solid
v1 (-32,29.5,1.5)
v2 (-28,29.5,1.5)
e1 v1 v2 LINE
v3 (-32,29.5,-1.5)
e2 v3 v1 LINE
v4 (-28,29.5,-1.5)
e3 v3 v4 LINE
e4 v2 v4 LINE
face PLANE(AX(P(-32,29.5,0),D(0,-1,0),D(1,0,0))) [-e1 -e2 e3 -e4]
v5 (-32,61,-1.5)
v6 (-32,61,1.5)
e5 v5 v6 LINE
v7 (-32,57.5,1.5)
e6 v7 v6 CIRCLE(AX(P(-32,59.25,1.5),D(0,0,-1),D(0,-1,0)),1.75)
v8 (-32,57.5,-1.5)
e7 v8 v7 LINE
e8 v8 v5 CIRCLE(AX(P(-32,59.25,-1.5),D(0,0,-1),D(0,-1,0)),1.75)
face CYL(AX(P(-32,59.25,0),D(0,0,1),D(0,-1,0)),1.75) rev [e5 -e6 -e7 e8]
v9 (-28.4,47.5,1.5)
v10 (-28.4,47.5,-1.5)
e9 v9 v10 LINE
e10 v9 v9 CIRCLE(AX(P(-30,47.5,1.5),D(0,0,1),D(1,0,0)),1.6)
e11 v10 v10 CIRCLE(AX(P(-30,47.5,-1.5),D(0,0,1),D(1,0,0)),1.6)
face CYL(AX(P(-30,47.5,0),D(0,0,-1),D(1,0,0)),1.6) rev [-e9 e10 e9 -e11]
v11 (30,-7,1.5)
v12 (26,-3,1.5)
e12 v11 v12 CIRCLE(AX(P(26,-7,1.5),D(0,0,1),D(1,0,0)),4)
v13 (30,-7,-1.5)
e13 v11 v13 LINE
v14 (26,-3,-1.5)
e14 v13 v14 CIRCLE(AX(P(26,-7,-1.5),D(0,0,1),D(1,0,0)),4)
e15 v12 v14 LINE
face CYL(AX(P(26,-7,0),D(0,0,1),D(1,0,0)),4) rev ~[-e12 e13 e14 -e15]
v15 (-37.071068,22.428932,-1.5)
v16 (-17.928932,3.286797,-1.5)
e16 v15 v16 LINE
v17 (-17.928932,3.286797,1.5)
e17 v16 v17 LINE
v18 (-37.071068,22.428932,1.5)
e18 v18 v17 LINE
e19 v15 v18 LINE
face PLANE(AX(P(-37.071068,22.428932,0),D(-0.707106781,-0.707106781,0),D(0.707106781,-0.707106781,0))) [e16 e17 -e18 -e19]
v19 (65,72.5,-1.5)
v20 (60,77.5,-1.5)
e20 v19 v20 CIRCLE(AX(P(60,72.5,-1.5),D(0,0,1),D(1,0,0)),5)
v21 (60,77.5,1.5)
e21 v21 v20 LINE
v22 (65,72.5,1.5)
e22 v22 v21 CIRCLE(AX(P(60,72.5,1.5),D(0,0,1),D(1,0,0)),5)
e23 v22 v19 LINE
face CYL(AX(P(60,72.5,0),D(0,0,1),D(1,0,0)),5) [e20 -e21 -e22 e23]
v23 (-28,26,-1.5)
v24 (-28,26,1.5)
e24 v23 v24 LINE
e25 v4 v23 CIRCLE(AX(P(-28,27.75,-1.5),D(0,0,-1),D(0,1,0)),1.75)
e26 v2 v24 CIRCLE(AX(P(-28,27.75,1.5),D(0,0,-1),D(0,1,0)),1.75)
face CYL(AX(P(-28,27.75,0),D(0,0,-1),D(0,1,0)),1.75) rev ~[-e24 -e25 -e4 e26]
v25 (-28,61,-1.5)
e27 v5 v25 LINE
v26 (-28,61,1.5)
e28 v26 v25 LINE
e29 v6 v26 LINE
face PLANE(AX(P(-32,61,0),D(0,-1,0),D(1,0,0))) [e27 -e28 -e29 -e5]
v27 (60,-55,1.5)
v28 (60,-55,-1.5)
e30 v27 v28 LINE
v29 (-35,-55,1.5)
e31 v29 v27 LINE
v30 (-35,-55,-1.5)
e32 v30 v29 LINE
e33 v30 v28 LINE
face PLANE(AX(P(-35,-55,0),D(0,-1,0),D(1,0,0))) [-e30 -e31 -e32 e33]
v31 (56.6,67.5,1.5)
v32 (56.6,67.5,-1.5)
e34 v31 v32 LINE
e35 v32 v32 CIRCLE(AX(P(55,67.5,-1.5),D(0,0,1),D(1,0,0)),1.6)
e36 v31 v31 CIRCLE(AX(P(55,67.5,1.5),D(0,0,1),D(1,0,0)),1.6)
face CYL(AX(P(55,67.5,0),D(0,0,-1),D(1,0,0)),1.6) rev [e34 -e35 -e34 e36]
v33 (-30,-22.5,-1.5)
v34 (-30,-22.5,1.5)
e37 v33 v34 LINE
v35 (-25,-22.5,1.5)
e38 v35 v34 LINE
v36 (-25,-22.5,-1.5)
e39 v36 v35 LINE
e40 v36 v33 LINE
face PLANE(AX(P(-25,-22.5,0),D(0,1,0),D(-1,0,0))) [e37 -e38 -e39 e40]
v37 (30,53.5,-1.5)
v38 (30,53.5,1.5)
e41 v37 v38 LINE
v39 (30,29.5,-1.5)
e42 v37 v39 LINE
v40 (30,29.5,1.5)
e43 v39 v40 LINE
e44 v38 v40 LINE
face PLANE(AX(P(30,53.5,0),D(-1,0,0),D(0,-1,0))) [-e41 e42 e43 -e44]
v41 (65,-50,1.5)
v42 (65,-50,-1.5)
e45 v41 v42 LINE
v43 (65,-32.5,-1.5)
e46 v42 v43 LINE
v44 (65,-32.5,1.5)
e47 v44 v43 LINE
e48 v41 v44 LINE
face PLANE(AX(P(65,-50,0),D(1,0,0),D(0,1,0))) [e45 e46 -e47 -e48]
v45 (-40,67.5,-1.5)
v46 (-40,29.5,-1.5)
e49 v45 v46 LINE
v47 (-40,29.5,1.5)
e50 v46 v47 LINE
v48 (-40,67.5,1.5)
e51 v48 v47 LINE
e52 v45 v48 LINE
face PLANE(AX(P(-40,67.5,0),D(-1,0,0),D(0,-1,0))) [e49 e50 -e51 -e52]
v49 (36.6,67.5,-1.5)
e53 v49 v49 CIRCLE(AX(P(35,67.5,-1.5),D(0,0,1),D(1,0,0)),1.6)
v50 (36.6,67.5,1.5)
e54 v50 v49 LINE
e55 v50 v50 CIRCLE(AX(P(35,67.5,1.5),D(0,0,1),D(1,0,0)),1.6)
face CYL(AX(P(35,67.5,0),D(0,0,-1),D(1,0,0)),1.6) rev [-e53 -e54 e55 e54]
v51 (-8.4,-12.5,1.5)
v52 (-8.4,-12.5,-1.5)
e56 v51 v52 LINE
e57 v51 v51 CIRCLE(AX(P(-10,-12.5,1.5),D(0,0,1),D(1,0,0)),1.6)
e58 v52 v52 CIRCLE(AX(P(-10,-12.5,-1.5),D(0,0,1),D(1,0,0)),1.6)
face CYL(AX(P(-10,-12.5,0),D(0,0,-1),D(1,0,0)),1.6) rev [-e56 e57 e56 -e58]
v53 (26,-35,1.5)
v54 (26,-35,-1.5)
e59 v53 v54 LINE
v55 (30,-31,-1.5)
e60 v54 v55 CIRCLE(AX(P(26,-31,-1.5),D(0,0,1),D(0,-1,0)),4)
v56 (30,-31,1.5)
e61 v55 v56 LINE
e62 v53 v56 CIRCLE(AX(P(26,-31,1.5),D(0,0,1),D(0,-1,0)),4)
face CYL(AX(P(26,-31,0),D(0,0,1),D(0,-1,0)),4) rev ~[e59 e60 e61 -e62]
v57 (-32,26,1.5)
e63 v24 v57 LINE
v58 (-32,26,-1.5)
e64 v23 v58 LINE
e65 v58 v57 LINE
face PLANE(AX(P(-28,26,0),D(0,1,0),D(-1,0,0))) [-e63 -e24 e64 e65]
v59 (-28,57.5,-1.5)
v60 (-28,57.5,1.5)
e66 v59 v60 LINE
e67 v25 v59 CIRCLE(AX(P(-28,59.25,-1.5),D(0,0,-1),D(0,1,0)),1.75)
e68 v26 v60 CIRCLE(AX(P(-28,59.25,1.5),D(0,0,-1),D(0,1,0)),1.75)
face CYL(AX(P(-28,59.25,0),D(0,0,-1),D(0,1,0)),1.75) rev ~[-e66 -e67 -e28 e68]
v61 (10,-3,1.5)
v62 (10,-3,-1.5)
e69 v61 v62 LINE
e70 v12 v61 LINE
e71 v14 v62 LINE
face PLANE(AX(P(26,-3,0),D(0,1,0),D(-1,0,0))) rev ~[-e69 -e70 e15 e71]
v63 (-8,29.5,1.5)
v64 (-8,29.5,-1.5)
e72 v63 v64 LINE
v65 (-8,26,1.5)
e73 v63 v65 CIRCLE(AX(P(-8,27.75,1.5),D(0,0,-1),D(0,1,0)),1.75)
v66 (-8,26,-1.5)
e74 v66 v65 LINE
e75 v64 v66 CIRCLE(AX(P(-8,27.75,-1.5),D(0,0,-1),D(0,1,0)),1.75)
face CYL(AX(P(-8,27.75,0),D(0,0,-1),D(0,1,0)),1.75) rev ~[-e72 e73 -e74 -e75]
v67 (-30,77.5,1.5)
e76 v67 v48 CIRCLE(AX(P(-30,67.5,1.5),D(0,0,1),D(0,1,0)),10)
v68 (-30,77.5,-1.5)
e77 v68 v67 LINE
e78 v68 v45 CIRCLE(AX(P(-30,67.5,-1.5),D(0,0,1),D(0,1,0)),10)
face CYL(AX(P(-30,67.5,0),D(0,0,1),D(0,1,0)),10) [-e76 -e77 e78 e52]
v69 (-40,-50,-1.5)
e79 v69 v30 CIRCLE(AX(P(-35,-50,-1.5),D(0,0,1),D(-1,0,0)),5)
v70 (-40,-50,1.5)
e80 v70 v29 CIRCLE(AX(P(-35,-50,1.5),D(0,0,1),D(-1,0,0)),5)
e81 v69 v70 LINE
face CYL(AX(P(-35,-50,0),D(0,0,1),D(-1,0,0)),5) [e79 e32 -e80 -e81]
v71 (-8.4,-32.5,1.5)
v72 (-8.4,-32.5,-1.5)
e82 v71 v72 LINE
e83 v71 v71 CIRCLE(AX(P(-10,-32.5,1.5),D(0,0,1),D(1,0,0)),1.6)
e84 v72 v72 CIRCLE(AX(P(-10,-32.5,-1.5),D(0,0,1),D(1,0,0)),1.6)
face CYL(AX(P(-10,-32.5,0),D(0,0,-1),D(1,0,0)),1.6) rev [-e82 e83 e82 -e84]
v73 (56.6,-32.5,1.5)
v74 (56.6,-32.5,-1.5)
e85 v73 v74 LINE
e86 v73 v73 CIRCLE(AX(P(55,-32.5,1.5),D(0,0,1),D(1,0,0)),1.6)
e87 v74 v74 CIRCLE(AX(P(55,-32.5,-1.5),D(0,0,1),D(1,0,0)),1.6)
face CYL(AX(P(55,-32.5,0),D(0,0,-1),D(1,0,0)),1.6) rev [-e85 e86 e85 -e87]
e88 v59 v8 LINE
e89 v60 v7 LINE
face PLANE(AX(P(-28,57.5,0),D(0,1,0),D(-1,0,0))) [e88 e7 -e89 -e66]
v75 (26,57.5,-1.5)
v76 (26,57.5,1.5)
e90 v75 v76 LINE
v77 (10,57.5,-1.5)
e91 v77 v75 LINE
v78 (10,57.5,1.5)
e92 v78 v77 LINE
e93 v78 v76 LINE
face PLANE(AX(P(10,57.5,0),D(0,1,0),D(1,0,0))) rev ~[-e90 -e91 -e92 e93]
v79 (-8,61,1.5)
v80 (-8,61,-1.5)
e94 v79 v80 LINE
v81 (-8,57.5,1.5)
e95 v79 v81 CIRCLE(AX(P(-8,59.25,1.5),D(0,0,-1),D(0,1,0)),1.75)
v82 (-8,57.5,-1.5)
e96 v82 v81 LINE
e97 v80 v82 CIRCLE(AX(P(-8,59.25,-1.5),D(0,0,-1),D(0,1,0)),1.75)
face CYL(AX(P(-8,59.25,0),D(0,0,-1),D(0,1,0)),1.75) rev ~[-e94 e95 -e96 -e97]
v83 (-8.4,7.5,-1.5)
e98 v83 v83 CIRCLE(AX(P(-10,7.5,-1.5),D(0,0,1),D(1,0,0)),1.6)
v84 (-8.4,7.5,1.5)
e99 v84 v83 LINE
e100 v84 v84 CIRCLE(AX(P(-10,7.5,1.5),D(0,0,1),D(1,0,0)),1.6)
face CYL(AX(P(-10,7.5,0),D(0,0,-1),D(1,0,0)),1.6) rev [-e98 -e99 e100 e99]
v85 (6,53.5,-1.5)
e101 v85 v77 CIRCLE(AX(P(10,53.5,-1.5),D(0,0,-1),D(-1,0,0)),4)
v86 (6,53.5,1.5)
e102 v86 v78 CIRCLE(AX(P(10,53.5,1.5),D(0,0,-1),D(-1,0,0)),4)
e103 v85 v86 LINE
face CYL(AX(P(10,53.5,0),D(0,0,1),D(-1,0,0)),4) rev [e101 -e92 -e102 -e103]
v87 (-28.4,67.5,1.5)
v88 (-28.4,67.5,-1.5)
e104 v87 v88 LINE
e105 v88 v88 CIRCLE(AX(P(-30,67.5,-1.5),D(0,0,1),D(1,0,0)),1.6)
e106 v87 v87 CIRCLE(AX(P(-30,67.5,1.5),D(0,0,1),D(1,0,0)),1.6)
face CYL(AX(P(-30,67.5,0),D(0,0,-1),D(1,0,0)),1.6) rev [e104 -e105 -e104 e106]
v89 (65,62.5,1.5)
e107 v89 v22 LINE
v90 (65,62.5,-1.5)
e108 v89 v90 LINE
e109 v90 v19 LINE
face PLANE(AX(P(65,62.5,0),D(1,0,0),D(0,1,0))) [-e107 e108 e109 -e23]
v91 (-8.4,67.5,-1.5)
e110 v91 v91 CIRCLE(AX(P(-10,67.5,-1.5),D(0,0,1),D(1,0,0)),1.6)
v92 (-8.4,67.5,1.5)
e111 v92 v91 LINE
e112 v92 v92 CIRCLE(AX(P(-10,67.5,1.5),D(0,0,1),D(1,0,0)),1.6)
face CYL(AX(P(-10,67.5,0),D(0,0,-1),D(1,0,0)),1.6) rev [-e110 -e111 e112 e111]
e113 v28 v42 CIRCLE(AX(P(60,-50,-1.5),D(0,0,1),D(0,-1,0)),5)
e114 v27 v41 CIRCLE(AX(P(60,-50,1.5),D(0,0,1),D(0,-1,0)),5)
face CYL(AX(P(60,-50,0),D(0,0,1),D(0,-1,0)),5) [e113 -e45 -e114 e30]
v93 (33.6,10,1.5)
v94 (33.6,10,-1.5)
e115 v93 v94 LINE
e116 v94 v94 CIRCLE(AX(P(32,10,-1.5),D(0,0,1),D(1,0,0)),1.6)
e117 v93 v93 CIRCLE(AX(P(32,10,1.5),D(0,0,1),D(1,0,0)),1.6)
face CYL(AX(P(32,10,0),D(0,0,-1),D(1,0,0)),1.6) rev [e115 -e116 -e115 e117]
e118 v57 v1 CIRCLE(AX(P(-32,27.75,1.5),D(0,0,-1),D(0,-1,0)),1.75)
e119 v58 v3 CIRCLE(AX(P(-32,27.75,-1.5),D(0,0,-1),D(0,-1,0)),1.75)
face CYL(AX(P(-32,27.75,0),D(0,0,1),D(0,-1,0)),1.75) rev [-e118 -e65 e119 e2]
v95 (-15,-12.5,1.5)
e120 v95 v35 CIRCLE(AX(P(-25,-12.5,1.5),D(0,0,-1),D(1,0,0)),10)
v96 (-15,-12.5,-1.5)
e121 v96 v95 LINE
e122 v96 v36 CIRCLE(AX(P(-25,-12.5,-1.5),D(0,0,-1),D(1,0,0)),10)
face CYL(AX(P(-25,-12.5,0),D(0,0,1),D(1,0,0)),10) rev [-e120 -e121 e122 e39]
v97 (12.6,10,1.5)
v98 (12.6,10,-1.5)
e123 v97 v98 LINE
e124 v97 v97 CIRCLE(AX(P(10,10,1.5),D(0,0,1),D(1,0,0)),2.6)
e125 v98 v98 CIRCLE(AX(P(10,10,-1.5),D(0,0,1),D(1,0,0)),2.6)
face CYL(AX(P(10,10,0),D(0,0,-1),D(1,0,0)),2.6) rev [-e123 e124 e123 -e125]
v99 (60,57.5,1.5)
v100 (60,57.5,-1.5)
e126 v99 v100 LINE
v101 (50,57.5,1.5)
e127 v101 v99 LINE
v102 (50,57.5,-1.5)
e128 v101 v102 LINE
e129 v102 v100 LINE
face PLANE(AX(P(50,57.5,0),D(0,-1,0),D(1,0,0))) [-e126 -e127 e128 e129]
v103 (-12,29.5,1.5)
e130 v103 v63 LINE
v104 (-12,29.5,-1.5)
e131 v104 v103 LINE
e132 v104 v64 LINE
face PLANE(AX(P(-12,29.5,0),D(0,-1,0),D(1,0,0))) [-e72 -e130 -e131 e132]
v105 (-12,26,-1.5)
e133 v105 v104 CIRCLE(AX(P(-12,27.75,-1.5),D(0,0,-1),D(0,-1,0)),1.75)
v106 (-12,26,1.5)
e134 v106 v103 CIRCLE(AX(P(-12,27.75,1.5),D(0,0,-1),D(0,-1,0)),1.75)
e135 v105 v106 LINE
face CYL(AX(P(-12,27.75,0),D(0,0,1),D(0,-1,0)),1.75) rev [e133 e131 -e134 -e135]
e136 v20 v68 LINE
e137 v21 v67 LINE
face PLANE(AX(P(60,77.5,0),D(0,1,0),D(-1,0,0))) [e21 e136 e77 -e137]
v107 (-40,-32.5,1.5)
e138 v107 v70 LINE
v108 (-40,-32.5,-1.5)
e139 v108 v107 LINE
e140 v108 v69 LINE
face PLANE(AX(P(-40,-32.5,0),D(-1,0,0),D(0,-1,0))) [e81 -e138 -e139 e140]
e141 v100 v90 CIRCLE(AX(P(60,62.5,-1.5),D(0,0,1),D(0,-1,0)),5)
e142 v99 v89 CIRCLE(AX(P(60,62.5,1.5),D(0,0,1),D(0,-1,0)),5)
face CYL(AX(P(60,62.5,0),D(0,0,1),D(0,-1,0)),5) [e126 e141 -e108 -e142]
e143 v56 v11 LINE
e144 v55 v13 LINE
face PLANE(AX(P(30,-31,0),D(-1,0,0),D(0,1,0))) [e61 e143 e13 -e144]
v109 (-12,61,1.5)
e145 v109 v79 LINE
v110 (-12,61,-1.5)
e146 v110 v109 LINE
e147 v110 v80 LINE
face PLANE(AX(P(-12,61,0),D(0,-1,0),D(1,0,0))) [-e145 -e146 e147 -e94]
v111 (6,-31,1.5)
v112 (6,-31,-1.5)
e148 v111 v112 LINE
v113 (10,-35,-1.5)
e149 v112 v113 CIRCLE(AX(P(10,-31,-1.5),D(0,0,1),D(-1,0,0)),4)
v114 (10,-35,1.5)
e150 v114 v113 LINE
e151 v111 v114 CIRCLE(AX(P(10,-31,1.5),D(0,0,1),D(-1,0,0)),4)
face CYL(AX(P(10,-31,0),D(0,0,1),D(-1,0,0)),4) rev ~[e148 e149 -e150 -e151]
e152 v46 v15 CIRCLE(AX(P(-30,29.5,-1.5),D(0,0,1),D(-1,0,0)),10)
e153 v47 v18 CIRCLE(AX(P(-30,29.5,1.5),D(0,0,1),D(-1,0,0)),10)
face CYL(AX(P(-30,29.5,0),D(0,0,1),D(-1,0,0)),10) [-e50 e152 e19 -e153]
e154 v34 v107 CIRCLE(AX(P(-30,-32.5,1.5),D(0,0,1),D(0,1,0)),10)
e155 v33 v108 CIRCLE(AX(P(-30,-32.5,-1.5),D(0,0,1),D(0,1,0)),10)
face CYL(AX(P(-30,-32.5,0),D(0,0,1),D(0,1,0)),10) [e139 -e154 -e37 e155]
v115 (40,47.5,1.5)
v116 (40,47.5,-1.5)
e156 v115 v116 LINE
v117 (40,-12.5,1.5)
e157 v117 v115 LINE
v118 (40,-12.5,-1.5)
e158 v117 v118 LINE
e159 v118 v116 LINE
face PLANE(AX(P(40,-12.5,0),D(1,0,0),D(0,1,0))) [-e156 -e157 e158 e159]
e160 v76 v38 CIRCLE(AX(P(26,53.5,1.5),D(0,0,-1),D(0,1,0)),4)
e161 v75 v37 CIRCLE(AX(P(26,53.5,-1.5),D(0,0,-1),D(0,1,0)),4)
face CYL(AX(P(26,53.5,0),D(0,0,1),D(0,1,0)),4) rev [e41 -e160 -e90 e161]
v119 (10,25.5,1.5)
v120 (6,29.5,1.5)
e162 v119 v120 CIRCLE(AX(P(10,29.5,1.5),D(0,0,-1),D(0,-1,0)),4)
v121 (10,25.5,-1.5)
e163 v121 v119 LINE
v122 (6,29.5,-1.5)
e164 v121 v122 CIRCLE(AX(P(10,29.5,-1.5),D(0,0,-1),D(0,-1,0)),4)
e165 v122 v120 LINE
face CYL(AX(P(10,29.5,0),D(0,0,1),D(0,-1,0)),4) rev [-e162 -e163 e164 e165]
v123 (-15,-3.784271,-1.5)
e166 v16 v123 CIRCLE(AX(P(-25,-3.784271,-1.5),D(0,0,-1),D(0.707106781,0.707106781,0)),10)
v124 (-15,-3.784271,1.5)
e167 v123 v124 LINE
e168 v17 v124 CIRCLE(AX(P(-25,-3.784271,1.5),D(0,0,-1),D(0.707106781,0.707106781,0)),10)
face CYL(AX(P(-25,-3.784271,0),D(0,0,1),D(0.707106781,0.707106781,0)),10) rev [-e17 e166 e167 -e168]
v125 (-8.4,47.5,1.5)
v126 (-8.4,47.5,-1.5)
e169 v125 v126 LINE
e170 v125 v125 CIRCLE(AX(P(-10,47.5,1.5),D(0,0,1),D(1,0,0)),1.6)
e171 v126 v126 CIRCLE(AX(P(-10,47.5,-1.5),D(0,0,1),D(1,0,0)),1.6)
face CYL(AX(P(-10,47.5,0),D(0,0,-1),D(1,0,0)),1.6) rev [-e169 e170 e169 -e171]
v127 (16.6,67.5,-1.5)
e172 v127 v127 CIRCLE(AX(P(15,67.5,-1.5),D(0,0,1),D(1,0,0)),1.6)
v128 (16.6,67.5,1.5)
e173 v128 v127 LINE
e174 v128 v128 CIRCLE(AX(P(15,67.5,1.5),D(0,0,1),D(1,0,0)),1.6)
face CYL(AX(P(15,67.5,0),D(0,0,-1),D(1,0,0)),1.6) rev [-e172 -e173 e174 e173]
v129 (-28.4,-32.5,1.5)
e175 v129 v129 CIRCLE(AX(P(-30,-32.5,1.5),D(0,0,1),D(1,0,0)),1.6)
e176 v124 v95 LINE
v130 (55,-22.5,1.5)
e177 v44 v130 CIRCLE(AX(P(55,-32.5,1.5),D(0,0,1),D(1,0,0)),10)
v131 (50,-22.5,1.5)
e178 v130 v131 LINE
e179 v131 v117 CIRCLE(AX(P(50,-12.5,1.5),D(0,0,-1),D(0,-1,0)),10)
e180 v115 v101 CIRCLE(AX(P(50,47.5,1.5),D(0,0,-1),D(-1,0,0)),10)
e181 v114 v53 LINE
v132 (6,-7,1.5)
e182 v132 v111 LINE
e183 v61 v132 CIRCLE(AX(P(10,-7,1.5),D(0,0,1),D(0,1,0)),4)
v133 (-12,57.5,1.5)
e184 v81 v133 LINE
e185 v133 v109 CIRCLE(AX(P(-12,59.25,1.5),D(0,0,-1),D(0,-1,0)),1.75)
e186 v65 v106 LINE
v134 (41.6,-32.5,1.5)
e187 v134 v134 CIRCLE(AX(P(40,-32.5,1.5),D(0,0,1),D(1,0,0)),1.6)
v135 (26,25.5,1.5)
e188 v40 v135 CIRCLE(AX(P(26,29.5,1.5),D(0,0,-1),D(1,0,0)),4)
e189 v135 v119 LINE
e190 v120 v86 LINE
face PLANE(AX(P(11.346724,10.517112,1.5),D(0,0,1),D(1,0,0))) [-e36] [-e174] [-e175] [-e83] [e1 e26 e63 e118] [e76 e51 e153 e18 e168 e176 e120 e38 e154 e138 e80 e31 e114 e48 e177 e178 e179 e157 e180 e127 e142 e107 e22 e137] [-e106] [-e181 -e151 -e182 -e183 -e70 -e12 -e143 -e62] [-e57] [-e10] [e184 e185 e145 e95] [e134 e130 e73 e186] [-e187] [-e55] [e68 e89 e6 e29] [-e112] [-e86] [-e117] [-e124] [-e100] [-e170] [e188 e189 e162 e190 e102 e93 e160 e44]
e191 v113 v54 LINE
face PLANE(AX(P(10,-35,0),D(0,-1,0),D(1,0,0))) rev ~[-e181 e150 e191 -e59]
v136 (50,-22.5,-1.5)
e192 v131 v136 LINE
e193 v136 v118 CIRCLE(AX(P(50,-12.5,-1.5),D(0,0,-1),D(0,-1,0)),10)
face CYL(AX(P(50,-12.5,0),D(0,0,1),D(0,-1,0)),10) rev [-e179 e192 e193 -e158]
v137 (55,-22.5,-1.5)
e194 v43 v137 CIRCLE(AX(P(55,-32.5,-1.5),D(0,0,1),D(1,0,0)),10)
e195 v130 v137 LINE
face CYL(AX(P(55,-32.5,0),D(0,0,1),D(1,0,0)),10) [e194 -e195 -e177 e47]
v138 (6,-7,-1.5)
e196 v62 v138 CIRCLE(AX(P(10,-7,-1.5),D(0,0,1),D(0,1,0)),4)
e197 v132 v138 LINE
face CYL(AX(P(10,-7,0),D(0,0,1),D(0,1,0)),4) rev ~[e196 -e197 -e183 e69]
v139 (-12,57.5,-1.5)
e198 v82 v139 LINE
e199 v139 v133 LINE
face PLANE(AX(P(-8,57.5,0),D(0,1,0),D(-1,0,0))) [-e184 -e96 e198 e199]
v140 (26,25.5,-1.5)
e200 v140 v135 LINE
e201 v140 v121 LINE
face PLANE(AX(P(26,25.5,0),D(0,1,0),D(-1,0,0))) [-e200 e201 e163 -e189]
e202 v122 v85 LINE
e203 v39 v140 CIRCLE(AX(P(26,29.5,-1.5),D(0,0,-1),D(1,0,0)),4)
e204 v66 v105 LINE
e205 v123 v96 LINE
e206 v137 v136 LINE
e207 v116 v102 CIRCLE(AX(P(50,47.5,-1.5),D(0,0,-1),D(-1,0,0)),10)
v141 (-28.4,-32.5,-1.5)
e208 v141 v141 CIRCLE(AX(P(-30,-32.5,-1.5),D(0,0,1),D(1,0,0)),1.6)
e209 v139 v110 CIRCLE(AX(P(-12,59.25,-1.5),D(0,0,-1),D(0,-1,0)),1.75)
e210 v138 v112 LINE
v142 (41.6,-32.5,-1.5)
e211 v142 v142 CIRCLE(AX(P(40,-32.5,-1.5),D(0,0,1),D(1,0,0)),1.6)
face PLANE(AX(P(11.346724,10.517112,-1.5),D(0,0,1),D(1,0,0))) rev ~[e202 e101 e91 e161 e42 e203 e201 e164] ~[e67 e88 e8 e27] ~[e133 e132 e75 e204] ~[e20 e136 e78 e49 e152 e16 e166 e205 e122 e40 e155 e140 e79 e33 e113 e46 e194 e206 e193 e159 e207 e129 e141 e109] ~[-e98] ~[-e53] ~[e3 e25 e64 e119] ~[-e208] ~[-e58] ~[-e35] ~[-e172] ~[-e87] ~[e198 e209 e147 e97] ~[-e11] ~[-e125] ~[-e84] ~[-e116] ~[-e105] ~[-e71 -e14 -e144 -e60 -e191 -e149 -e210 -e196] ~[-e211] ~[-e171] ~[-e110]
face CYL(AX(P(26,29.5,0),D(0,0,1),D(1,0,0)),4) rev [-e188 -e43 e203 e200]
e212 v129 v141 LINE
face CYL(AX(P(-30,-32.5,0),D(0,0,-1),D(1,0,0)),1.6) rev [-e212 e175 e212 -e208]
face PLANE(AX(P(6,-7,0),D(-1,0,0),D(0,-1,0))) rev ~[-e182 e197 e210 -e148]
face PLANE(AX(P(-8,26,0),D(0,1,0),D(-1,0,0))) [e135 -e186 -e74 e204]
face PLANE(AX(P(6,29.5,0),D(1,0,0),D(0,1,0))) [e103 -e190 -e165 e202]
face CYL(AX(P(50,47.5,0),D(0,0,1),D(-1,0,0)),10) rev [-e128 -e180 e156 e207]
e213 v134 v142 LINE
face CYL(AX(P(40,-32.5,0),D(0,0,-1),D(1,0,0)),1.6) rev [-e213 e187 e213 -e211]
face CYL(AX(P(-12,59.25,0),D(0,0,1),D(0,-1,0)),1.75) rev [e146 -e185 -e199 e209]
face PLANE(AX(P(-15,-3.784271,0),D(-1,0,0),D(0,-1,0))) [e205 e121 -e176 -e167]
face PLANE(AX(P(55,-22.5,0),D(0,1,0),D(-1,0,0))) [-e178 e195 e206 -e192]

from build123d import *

# Parameters (mm, degrees)
SKETCH_1_R      = 1.6
SKETCH_1_R_2    = 2.6
EXTRUDE_1_DEPTH = 1.5


with BuildPart() as part:
    # 草图1 → 凸台-拉伸1 (new, symmetric)
    with BuildSketch(Plane.XY):
        with BuildLine():
            Line((60, 77.5), (-30, 77.5))
            ThreePointArc((-30, 77.5), (-37.071067812, 74.571067812), (-40, 67.5))
            Line((-40, 67.5), (-40, 29.5))
            ThreePointArc((-40, 29.5), (-39.238795325, 25.673165676), (-37.071067812, 22.428932188))
            Line((-37.071067812, 22.428932188), (-17.928932188, 3.286796564))
            ThreePointArc((-17.928932188, 3.286796564), (-15.761204675, 0.042563076), (-15, -3.784271247))
            Line((-15, -3.784271247), (-15, -12.5))
            ThreePointArc((-15, -12.5), (-17.928932188, -19.571067812), (-25, -22.5))
            Line((-25, -22.5), (-30, -22.5))
            ThreePointArc((-30, -22.5), (-37.071067812, -25.428932188), (-40, -32.5))
            Line((-40, -32.5), (-40, -50))
            ThreePointArc((-40, -50), (-38.535533906, -53.535533906), (-35, -55))
            Line((-35, -55), (60, -55))
            ThreePointArc((60, -55), (63.535533906, -53.535533906), (65, -50))
            Line((65, -50), (65, -32.5))
            ThreePointArc((65, -32.5), (62.071067812, -25.428932188), (55, -22.5))
            Line((55, -22.5), (50, -22.5))
            ThreePointArc((50, -22.5), (42.928932188, -19.571067812), (40, -12.5))
            Line((40, -12.5), (40, 47.5))
            ThreePointArc((40, 47.5), (42.928932188, 54.571067812), (50, 57.5))
            Line((50, 57.5), (60, 57.5))
            ThreePointArc((60, 57.5), (63.535533906, 58.964466094), (65, 62.5))
            Line((65, 62.5), (65, 72.5))
            ThreePointArc((65, 72.5), (63.535533906, 76.035533906), (60, 77.5))
        make_face()
        with Locations((-30, 67.5)):
            Circle(SKETCH_1_R, mode=Mode.SUBTRACT)
        with Locations((-10, 67.5)):
            Circle(SKETCH_1_R, mode=Mode.SUBTRACT)
        with Locations((-10, -32.5)):
            Circle(SKETCH_1_R, mode=Mode.SUBTRACT)
        with Locations((-30, -32.5)):
            Circle(SKETCH_1_R, mode=Mode.SUBTRACT)
        with Locations((10, 10)):
            Circle(SKETCH_1_R_2, mode=Mode.SUBTRACT)
        with Locations((15, 67.5)):
            Circle(SKETCH_1_R, mode=Mode.SUBTRACT)
        with Locations((55, 67.5)):
            Circle(SKETCH_1_R, mode=Mode.SUBTRACT)
        with Locations((32, 10)):
            Circle(SKETCH_1_R, mode=Mode.SUBTRACT)
        with Locations((35, 67.5)):
            Circle(SKETCH_1_R, mode=Mode.SUBTRACT)
        with Locations((40, -32.5)):
            Circle(SKETCH_1_R, mode=Mode.SUBTRACT)
        with Locations((55, -32.5)):
            Circle(SKETCH_1_R, mode=Mode.SUBTRACT)
        with Locations((-10, -12.5)):
            Circle(SKETCH_1_R, mode=Mode.SUBTRACT)
        with Locations((-10, 7.5)):
            Circle(SKETCH_1_R, mode=Mode.SUBTRACT)
        with Locations((-10, 47.5)):
            Circle(SKETCH_1_R, mode=Mode.SUBTRACT)
        with Locations((-30, 47.5)):
            Circle(SKETCH_1_R, mode=Mode.SUBTRACT)
        with BuildLine():
            Line((-32, 29.5), (-28, 29.5))
            ThreePointArc((-28, 29.5), (-26.25, 27.75), (-28, 26))
            Line((-28, 26), (-32, 26))
            ThreePointArc((-32, 26), (-33.75, 27.75), (-32, 29.5))
        make_face(mode=Mode.SUBTRACT)
        with BuildLine():
            Line((-12, 29.5), (-8, 29.5))
            ThreePointArc((-8, 29.5), (-6.25, 27.75), (-8, 26))
            Line((-8, 26), (-12, 26))
            ThreePointArc((-12, 26), (-13.75, 27.75), (-12, 29.5))
        make_face(mode=Mode.SUBTRACT)
        with BuildLine():
            Line((-12, 61), (-8, 61))
            ThreePointArc((-8, 61), (-6.25, 59.25), (-8, 57.5))
            Line((-8, 57.5), (-12, 57.5))
            ThreePointArc((-12, 57.5), (-13.75, 59.25), (-12, 61))
        make_face(mode=Mode.SUBTRACT)
        with BuildLine():
            Line((-32, 61), (-28, 61))
            ThreePointArc((-28, 61), (-26.25, 59.25), (-28, 57.5))
            Line((-28, 57.5), (-32, 57.5))
            ThreePointArc((-32, 57.5), (-33.75, 59.25), (-32, 61))
        make_face(mode=Mode.SUBTRACT)
        with BuildLine():
            Line((6, -7), (6, -31))
            ThreePointArc((6, -31), (7.171572875, -33.828427125), (10, -35))
            Line((10, -35), (26, -35))
            ThreePointArc((26, -35), (28.828427125, -33.828427125), (30, -31))
            Line((30, -31), (30, -7))
            ThreePointArc((30, -7), (28.828427125, -4.171572875), (26, -3))
            Line((26, -3), (10, -3))
            ThreePointArc((10, -3), (7.171572875, -4.171572875), (6, -7))
        make_face(mode=Mode.SUBTRACT)
        with BuildLine():
            Line((10, 57.5), (26, 57.5))
            ThreePointArc((26, 57.5), (28.828427125, 56.328427125), (30, 53.5))
            Line((30, 53.5), (30, 29.5))
            ThreePointArc((30, 29.5), (28.828427125, 26.671572875), (26, 25.5))
            Line((26, 25.5), (10, 25.5))
            ThreePointArc((10, 25.5), (7.171572875, 26.671572875), (6, 29.5))
            Line((6, 29.5), (6, 53.5))
            ThreePointArc((6, 53.5), (7.171572875, 56.328427125), (10, 57.5))
        make_face(mode=Mode.SUBTRACT)
    extrude(amount=EXTRUDE_1_DEPTH, both=True)


solid = part.part
